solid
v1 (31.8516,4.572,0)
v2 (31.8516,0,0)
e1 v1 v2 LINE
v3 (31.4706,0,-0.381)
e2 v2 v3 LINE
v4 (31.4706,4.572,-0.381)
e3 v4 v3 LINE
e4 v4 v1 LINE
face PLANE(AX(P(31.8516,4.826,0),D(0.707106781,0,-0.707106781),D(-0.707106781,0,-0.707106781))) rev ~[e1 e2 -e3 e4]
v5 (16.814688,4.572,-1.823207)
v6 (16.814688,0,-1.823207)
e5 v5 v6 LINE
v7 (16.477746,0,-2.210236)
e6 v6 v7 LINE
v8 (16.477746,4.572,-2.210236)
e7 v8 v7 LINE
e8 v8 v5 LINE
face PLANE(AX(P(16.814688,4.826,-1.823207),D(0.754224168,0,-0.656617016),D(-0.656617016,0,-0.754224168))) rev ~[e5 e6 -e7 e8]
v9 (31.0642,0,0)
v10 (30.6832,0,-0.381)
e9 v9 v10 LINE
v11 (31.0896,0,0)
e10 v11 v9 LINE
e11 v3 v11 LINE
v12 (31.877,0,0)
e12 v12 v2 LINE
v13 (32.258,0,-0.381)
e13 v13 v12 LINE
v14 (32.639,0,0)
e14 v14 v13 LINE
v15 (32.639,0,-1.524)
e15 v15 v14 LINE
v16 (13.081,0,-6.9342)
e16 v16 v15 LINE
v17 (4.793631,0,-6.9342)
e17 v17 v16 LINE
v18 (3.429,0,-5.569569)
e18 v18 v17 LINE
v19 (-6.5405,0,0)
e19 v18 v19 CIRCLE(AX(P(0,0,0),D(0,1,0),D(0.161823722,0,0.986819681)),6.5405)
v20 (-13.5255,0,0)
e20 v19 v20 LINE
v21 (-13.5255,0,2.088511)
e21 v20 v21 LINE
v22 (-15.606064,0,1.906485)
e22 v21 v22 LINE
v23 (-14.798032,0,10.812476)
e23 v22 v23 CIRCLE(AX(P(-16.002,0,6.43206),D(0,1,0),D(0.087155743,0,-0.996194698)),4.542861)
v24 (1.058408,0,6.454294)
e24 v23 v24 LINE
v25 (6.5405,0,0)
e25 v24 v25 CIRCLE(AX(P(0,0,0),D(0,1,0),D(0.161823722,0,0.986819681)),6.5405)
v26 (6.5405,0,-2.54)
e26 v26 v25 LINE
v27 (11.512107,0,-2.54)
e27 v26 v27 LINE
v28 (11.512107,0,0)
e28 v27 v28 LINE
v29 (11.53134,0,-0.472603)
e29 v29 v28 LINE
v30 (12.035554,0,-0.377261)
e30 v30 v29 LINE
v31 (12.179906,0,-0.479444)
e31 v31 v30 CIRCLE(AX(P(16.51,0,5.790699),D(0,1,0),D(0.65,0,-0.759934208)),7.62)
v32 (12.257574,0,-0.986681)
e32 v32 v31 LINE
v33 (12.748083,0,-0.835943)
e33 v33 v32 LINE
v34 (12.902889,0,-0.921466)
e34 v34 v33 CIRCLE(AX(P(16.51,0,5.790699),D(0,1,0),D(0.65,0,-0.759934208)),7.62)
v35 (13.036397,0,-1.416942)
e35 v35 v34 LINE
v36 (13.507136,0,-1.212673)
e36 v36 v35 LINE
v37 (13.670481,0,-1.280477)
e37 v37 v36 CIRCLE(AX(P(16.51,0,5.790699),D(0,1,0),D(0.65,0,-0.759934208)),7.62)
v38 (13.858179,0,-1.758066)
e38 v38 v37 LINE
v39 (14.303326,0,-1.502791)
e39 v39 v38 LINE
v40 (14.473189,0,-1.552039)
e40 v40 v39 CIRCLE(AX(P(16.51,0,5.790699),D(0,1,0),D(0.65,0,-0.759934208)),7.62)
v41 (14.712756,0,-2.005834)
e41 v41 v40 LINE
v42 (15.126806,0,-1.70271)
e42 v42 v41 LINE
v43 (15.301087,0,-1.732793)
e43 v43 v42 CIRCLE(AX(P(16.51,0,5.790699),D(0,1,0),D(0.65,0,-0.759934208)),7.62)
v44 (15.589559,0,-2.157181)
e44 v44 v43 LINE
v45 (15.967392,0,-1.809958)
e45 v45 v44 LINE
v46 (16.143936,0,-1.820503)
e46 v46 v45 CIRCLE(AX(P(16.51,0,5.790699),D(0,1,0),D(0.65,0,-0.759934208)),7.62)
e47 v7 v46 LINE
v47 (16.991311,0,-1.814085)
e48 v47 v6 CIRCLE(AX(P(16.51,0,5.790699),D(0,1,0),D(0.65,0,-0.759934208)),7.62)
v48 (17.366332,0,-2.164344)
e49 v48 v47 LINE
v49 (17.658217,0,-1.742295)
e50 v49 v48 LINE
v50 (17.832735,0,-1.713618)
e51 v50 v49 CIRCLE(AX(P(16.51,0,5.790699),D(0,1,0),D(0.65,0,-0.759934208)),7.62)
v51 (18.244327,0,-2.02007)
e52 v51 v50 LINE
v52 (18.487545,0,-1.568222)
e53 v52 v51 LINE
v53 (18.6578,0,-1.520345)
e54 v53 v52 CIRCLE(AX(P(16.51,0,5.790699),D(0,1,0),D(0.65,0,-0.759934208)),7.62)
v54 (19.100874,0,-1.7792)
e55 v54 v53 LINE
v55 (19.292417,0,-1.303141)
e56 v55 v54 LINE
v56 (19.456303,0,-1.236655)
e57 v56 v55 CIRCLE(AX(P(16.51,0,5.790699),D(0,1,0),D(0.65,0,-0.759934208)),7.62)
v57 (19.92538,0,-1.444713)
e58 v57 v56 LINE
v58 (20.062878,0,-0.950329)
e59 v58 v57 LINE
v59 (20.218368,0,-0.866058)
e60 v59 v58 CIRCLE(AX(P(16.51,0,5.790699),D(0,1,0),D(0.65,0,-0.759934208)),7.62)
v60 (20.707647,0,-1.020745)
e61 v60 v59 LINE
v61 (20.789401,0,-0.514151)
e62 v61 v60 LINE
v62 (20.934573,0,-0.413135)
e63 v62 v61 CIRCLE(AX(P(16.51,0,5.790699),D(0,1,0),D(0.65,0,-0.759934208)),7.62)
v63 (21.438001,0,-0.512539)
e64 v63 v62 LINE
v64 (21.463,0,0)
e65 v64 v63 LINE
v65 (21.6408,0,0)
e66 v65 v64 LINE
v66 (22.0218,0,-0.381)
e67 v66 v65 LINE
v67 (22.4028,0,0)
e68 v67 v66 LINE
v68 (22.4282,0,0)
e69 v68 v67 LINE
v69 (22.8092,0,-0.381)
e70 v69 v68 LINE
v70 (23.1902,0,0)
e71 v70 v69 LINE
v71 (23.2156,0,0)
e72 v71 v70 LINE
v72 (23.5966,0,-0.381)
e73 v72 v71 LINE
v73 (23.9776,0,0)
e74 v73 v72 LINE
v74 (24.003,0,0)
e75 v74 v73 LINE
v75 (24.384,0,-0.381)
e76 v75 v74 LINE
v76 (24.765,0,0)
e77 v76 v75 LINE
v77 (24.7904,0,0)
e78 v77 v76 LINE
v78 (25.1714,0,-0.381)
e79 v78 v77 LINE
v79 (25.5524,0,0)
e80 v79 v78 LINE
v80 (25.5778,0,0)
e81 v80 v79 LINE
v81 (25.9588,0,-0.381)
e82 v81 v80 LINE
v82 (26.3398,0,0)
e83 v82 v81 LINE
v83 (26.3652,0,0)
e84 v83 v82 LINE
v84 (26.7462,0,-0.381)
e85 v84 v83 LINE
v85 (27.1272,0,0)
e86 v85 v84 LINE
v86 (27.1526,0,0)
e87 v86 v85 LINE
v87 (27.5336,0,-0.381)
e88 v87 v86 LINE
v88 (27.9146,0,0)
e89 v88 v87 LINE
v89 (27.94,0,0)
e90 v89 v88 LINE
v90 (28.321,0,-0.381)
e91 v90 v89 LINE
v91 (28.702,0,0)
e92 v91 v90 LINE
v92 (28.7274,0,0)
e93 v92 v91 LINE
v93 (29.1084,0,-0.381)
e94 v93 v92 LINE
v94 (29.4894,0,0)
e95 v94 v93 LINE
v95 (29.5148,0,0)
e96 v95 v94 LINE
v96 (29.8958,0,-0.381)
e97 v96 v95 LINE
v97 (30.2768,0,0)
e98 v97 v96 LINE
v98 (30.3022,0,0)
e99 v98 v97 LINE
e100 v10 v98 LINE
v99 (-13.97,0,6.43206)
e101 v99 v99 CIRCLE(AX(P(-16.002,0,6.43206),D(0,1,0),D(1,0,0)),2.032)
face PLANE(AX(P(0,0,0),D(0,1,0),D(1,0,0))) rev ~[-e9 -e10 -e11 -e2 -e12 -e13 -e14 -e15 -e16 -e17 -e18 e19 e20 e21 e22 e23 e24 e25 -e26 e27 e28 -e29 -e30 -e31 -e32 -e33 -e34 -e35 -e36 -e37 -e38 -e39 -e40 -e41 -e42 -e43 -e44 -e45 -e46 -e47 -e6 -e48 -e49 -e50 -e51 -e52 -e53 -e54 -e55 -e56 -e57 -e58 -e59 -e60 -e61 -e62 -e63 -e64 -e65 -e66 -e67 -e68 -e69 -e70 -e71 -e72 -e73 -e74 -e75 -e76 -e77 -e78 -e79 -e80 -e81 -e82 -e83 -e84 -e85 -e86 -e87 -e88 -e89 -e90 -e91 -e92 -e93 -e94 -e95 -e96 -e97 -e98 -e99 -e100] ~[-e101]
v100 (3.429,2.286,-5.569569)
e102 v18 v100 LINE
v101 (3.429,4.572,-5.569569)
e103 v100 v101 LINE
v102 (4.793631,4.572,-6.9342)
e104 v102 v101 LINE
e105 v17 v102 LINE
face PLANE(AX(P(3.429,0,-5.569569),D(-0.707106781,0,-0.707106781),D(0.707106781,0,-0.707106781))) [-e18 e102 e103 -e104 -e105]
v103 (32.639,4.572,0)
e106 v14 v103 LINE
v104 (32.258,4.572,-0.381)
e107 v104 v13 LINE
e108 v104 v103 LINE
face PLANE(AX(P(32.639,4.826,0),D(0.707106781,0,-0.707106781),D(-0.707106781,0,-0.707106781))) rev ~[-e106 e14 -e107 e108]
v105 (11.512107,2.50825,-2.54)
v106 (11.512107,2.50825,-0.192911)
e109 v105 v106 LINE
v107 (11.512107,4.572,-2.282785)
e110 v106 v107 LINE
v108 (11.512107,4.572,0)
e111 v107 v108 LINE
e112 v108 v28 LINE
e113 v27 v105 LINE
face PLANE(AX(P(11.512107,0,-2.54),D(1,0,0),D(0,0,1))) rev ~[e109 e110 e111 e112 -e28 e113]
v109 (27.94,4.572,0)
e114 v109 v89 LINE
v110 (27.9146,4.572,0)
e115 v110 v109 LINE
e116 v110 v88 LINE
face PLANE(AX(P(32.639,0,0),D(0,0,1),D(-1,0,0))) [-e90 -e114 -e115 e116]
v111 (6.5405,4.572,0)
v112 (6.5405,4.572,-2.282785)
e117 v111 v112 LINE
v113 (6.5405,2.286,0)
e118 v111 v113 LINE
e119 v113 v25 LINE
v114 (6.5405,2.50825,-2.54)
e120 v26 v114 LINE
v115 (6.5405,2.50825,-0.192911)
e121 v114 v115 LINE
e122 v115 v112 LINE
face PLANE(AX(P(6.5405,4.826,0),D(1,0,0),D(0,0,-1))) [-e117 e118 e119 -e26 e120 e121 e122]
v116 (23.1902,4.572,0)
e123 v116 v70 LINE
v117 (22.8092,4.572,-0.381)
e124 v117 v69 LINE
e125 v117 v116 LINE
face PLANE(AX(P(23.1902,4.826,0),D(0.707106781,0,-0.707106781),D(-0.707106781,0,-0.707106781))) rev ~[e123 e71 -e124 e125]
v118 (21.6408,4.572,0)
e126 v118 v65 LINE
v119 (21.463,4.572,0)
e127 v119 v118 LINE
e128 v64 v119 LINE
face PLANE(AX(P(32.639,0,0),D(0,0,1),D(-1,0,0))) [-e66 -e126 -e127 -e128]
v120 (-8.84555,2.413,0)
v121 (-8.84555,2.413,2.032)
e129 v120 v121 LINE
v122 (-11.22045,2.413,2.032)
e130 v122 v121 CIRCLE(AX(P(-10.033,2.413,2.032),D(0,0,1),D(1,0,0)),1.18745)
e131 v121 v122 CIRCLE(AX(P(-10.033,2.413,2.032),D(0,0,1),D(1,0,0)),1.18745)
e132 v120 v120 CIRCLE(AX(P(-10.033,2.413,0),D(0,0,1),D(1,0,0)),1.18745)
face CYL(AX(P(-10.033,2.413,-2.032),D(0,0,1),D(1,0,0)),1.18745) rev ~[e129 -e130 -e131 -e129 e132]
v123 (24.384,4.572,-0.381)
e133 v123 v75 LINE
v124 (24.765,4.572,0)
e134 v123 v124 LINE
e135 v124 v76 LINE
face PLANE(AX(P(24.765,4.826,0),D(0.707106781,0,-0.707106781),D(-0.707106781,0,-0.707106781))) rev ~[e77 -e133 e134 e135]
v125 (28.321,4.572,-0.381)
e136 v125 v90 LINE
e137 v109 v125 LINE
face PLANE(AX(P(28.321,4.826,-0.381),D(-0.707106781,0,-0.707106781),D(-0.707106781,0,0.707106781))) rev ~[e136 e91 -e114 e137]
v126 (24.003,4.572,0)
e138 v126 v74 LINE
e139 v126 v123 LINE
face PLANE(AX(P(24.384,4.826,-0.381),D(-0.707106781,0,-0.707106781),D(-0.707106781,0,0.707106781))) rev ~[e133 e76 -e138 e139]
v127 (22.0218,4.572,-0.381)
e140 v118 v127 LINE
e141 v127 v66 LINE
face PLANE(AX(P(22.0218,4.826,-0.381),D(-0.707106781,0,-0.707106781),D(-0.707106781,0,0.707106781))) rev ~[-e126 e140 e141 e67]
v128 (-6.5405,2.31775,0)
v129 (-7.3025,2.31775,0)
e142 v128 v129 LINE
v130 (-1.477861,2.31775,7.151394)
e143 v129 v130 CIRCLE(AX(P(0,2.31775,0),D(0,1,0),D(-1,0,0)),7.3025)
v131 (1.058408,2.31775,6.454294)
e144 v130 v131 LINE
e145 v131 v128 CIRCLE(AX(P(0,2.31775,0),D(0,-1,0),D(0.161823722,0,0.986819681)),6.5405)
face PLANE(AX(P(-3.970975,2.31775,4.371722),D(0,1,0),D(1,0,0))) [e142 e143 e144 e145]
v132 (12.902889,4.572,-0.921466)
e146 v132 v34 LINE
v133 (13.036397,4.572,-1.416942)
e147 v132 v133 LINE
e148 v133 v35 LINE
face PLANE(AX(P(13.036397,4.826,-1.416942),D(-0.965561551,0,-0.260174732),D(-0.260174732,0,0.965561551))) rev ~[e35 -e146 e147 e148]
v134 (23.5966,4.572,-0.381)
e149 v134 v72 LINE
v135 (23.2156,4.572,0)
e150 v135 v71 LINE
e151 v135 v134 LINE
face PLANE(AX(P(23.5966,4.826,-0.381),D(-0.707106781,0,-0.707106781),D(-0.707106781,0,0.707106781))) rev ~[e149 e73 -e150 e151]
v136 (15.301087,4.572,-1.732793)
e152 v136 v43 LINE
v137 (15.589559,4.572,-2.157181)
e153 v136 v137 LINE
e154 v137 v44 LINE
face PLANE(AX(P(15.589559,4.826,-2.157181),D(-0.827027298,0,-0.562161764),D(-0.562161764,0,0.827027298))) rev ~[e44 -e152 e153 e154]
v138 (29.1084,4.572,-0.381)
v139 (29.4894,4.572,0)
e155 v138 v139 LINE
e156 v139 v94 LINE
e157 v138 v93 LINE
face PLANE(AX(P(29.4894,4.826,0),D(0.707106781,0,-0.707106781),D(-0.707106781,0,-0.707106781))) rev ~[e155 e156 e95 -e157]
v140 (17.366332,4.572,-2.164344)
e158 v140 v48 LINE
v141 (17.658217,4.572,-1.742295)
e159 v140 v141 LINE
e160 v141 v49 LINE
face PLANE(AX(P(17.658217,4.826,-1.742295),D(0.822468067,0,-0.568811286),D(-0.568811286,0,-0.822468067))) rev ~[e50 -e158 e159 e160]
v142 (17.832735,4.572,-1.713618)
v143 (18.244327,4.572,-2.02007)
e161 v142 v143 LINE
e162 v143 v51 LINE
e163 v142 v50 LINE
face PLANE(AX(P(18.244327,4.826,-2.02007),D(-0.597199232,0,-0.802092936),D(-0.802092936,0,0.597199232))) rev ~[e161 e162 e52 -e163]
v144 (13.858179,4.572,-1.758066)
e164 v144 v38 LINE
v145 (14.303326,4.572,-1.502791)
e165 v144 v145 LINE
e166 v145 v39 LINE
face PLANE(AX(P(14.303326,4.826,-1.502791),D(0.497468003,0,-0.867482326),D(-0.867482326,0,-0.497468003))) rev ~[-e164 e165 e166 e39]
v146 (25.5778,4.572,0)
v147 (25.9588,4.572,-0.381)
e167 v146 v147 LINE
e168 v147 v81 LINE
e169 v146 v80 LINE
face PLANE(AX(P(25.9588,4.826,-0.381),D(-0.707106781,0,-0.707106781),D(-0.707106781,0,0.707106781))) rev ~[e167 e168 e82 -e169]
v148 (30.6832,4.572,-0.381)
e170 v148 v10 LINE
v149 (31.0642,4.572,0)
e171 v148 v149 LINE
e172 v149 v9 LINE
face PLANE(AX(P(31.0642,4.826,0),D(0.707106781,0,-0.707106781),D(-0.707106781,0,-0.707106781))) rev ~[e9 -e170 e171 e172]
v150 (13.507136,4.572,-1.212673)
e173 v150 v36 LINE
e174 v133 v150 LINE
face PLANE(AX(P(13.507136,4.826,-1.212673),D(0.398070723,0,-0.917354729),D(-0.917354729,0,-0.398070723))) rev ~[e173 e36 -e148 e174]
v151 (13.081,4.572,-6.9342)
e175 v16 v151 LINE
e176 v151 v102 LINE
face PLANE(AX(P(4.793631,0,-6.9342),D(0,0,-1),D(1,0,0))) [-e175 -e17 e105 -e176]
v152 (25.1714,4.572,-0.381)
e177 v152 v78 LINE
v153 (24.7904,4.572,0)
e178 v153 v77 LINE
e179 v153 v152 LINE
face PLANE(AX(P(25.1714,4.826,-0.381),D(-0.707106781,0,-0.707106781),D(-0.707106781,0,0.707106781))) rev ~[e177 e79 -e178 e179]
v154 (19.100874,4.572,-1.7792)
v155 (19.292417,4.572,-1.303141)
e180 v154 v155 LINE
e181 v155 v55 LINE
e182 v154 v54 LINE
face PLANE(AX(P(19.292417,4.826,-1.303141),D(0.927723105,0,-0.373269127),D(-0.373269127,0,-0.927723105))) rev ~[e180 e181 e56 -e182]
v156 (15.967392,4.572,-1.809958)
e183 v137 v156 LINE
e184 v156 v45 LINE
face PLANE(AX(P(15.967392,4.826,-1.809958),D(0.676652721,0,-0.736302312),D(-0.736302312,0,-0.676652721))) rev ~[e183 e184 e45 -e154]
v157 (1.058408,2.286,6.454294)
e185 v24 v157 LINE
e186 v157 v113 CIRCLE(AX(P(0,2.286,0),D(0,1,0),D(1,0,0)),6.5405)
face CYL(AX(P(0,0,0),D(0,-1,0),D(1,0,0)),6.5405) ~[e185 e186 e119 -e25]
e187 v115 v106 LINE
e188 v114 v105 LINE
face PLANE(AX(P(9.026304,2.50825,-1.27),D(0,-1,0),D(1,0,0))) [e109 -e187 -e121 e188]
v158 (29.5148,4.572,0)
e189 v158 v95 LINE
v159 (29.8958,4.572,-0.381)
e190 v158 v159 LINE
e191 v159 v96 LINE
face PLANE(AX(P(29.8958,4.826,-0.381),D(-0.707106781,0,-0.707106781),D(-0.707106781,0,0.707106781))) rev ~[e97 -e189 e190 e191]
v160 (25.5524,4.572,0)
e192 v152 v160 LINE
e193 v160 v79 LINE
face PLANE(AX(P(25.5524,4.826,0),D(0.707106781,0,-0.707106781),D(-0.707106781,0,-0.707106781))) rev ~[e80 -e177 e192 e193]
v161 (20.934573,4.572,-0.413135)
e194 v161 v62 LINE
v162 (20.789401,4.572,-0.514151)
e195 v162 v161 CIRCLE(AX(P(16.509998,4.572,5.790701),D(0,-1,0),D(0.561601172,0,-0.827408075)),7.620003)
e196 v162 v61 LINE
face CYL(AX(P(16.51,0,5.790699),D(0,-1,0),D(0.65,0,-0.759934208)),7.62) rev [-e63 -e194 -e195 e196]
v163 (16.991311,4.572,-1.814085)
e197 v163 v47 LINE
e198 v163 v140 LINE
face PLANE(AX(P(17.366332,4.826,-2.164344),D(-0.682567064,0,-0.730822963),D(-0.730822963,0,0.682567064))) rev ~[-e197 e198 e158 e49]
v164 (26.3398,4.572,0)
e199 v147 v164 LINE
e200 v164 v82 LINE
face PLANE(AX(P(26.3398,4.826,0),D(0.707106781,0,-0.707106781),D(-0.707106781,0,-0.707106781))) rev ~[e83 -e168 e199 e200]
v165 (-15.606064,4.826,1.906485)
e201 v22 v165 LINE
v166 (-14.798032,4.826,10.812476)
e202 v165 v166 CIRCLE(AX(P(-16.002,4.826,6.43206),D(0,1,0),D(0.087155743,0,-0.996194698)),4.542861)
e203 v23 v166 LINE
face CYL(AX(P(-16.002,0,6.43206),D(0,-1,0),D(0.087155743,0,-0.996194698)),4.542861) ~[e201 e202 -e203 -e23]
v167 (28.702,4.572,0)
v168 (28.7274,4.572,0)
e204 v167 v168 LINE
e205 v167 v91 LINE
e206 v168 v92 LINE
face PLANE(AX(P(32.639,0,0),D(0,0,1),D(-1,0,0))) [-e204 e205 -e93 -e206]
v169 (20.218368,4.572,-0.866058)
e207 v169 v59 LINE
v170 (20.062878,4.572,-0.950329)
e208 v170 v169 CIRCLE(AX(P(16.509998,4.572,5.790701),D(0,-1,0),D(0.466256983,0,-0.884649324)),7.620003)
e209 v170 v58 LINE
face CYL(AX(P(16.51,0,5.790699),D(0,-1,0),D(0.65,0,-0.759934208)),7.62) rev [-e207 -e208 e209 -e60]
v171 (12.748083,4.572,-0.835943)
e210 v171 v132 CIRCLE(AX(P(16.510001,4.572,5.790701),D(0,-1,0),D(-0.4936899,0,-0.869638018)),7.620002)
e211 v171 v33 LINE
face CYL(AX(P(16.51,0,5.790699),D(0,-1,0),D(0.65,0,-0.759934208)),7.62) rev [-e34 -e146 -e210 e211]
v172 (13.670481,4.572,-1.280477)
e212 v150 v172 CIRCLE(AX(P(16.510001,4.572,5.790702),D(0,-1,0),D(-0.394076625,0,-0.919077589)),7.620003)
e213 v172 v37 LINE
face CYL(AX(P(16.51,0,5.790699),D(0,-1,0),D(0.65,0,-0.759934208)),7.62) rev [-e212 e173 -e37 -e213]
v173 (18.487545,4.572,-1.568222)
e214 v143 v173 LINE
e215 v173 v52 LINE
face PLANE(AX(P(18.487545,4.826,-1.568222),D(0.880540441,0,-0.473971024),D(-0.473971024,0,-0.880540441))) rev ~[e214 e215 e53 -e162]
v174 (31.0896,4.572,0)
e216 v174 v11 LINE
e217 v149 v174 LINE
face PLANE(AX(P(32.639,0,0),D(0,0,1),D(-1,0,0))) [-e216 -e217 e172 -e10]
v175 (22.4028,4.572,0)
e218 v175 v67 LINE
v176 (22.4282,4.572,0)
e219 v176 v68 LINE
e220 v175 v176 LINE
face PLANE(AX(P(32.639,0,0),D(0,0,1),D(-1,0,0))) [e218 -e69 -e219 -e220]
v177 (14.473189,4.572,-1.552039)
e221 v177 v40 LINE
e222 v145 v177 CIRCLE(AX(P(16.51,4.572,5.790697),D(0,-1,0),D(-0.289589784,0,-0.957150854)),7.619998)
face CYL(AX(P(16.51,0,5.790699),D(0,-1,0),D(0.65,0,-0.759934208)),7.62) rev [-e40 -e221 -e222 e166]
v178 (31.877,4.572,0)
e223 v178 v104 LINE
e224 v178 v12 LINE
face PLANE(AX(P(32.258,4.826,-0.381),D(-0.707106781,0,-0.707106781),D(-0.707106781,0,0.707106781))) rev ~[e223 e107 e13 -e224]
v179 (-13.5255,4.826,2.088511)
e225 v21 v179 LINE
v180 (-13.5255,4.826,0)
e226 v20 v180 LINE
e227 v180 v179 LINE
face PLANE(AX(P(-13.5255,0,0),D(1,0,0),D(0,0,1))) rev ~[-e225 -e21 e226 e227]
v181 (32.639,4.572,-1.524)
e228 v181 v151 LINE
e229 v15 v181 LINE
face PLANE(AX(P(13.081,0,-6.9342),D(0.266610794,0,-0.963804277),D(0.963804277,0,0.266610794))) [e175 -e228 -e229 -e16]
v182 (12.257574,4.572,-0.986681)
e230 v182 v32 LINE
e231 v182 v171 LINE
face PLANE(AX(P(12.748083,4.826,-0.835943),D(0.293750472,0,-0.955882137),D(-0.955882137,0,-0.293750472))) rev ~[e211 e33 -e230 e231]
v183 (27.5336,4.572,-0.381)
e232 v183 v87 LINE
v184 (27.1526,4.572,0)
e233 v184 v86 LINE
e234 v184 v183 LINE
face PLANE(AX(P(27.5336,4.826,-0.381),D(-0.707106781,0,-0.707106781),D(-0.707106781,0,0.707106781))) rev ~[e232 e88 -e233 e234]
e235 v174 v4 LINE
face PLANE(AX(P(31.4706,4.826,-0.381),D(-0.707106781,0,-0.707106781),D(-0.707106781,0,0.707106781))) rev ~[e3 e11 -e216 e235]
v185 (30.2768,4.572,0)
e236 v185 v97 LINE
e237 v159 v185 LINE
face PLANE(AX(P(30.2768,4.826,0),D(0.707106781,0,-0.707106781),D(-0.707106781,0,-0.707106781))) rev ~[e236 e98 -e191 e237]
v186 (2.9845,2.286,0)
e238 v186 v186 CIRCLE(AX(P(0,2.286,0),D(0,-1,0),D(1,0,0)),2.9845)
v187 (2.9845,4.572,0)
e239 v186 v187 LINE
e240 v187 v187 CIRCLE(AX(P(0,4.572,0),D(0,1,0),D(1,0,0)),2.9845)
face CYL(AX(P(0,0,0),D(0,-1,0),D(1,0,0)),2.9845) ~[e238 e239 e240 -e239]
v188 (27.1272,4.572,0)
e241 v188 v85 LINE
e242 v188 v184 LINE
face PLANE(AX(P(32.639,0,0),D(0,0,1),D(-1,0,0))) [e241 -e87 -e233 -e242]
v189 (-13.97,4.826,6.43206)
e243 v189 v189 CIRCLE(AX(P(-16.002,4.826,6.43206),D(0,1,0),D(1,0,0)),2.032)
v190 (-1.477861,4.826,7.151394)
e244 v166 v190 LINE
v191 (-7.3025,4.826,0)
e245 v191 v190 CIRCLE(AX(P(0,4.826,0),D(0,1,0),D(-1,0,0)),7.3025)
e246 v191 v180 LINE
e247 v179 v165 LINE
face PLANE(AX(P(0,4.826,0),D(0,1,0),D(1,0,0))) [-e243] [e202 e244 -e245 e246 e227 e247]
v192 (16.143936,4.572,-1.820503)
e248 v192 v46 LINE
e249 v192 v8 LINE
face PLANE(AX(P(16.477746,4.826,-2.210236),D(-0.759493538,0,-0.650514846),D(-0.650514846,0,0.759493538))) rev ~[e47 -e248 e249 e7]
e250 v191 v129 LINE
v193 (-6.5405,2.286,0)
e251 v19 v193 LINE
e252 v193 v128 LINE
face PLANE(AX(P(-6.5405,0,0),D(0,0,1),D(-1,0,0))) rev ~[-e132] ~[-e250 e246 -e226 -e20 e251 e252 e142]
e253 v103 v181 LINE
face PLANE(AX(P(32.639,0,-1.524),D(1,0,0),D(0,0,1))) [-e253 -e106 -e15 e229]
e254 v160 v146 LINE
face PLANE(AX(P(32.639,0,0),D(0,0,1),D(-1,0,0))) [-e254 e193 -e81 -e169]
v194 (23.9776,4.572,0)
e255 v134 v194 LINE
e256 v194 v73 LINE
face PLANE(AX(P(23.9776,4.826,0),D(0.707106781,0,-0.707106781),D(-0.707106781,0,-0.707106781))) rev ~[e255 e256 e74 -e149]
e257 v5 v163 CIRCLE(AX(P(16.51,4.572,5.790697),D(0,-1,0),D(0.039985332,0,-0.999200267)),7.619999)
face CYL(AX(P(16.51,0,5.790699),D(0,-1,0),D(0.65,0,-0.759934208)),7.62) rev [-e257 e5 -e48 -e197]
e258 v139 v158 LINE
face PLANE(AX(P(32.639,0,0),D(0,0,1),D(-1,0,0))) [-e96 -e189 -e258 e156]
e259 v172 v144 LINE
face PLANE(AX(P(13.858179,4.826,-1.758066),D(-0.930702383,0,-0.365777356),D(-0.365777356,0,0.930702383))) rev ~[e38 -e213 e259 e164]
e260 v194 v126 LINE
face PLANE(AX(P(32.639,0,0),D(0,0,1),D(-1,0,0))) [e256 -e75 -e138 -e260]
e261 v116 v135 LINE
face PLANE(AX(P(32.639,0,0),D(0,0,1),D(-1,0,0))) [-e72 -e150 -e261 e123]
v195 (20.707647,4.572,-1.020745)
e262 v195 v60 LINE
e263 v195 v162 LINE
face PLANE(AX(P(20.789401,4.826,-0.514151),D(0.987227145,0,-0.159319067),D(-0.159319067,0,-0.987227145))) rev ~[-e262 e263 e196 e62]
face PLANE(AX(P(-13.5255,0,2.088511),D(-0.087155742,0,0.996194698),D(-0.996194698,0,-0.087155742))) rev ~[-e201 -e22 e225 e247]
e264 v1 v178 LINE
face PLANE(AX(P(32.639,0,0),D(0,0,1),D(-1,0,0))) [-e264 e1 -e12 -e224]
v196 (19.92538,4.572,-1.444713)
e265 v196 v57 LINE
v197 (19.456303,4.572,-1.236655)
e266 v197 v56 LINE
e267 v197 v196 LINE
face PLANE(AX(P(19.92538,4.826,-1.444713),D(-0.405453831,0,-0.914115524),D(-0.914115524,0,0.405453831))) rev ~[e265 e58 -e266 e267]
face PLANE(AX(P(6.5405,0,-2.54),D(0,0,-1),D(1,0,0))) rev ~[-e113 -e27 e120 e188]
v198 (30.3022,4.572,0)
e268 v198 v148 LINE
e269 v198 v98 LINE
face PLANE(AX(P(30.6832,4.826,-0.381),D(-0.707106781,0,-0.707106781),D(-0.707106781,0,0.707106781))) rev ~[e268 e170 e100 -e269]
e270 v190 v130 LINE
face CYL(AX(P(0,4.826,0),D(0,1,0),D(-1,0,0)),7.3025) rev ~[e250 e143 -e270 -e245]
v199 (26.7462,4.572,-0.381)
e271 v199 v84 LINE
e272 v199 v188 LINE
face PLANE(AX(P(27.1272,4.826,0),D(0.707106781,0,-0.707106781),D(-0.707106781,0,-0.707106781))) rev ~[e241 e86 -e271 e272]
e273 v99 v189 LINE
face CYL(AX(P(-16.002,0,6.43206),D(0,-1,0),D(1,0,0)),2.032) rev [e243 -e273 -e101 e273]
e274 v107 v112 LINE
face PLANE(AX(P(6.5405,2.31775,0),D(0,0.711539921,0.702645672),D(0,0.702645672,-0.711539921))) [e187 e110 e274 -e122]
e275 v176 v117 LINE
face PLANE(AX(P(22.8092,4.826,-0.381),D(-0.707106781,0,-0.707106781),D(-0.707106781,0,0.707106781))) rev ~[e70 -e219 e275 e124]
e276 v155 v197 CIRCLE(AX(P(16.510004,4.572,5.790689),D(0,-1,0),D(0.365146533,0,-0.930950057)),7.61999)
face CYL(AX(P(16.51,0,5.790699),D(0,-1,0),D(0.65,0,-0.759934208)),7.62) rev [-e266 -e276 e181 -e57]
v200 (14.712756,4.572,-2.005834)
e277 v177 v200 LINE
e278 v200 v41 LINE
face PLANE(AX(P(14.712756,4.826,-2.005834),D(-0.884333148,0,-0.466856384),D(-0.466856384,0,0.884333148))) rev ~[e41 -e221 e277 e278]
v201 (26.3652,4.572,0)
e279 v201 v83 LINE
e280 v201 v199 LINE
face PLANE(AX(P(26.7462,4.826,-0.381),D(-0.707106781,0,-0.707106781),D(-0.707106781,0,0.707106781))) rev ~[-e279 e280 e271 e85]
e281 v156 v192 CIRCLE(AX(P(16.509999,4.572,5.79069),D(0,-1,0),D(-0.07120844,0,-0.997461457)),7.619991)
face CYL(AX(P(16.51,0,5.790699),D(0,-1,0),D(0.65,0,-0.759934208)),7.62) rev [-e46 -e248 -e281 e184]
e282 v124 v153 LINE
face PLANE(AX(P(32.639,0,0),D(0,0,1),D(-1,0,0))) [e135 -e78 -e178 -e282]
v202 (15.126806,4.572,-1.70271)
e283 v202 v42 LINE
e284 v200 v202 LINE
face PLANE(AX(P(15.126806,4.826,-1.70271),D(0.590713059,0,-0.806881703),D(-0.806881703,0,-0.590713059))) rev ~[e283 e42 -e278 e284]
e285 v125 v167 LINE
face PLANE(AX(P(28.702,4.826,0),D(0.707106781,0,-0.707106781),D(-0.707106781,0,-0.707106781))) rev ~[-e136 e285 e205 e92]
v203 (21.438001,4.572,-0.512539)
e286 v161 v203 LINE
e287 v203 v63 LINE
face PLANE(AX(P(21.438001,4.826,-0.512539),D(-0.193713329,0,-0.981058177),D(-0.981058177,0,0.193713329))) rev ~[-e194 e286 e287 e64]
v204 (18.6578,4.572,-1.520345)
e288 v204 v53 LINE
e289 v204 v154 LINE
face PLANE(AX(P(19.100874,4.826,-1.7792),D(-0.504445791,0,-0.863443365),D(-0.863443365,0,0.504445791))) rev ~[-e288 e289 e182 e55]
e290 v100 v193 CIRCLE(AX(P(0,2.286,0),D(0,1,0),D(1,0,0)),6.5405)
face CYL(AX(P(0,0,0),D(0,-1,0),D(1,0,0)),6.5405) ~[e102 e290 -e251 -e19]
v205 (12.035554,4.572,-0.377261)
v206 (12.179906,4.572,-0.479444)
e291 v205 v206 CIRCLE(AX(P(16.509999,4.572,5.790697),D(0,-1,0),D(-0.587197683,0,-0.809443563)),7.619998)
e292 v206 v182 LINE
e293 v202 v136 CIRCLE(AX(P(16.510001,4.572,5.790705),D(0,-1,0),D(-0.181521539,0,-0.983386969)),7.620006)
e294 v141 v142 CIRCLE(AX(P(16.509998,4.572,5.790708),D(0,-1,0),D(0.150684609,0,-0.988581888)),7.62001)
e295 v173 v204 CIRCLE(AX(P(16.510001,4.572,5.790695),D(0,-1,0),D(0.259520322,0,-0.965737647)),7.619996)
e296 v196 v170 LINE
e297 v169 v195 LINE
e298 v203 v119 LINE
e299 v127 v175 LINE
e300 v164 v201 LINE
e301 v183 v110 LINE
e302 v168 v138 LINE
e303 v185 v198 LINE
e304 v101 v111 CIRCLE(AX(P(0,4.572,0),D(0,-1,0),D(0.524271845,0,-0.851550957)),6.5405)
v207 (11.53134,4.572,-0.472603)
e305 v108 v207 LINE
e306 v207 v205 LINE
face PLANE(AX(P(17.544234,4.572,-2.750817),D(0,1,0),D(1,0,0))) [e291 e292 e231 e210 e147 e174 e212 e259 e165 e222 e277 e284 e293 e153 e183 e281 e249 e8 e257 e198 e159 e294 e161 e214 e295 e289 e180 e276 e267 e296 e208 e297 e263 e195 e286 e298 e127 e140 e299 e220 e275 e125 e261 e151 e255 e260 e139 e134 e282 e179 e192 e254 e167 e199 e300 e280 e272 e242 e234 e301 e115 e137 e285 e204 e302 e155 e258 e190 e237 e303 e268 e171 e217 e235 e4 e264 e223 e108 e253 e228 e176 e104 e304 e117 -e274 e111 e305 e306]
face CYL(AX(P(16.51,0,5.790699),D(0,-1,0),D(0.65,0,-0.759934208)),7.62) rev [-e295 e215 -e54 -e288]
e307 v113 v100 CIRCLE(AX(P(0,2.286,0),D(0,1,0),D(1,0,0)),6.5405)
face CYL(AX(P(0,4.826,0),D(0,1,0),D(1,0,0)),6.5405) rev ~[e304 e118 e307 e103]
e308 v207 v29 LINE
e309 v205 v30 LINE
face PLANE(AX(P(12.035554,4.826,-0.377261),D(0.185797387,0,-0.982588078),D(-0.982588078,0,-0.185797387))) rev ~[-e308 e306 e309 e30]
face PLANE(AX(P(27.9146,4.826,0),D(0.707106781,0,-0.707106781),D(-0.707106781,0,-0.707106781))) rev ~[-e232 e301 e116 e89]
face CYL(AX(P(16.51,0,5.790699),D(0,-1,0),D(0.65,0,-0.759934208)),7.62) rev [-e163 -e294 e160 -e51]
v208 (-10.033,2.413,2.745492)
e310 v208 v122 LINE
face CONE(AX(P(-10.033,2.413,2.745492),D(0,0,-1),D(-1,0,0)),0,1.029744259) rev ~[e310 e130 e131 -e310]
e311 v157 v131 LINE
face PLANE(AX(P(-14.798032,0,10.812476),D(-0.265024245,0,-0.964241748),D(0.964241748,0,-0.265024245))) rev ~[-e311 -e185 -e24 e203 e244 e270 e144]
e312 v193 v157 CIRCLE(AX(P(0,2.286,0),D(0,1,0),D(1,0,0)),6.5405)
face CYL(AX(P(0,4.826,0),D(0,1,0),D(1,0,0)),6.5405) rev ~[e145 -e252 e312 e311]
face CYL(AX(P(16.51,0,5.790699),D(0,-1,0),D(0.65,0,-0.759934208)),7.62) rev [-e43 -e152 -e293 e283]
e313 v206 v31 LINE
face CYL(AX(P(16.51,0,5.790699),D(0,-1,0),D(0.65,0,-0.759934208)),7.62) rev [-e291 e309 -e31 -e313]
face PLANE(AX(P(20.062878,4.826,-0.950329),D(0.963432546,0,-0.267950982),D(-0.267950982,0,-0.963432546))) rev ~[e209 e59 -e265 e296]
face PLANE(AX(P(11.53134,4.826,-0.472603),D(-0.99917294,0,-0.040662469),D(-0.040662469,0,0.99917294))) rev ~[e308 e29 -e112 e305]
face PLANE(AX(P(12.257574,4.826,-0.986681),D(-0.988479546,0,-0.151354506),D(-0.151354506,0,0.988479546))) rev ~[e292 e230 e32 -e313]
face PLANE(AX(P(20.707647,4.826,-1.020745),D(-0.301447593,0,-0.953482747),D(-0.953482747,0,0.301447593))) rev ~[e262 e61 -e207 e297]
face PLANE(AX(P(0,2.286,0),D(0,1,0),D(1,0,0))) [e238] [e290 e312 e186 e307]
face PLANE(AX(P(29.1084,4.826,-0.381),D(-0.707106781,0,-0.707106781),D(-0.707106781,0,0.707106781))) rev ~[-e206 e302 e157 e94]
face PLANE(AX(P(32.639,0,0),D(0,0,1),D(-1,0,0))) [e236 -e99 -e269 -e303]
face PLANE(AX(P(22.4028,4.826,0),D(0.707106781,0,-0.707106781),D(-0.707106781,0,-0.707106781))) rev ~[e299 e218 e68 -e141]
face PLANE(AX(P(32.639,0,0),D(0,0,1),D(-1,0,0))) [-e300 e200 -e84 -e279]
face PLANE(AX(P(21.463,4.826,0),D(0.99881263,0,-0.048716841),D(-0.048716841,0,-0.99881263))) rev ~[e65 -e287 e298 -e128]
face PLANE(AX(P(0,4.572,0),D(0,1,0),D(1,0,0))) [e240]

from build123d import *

# Parameters (mm, degrees)
SKETCH1_R                        = 6.5405
SKETCH1_R_2                      = 2.9845
BOSS_EXTRUDE1_DEPTH              = 4.826
SKETCH2_R                        = 2.032
BOSS_EXTRUDE2_DEPTH              = 4.826
F_42_0_0935_DIAMETER_HOLE1_D     = 2.3749
F_42_0_0935_DIAMETER_HOLE1_DEPTH = 2.032
F_42_0_0935_DIAMETER_HOLE1_TIP   = 0.713491942
BOSS_EXTRUDE3_DEPTH              = 4.826
CUT_EXTRUDE1_DEPTH               = 2.50825
CUT_EXTRUDE2_DEPTH               = 5.826
LPATTERN1_COUNT                  = 14
LPATTERN1_PITCH                  = 0.7874
CUT_EXTRUDE3_DEPTH               = 5.826
CIRPATTERN1_COUNT                = 13
CIRPATTERN1_ANGLE                = 76.5
SKETCH13_W                       = 4.971607039
SKETCH13_H                       = 2.54
CUT_EXTRUDE5_DEPTH               = 2.50825
BOSS_EXTRUDE4_REACH              = 28.099
SKETCH15_W                       = 4.971607039
SKETCH15_H                       = 2.54
CUT_EXTRUDE6_DEPTH               = 2.50825
SKETCH16_R                       = 6.5405
CUT_EXTRUDE7_DEPTH               = 2.54
SKETCH18_R                       = 2.9845
BOSS_EXTRUDE5_DEPTH              = 4.572
CUT_EXTRUDE8_DEPTH               = 0.254
CUT_EXTRUDE9_REACH               = 34.057


with BuildPart() as part:
    # Sketch1 → Boss-Extrude1 (new body)
    with BuildSketch(Plane(origin=(0, 0, 0), x_dir=(1, 0, 0), z_dir=(0, 1, 0))):
        Circle(SKETCH1_R)
        Circle(SKETCH1_R_2, mode=Mode.SUBTRACT)
    extrude(amount=BOSS_EXTRUDE1_DEPTH)

    # Sketch2 → Boss-Extrude2 (add)
    with BuildSketch(Plane(origin=(0, 0, 0), x_dir=(1, 0, 0), z_dir=(0, 1, 0))):
        with BuildLine():
            Line((-6.5405, 0), (-13.5255, 0))
            Line((-13.5255, 0), (-13.5255, -2.088510966))
            Line((-13.5255, -2.088510966), (-15.606063552, -1.906485242))
            ThreePointArc((-15.606063552, -1.906485242), (-20.526278057, -6.842542927), (-14.798031619, -10.81247605))
            Line((-14.798031619, -10.81247605), (1.058408056, -6.454294124))
            ThreePointArc((1.058408056, -6.454294124), (-4.234124606, -4.985010438), (-6.5405, 0))
        make_face()
        with Locations((-16.002, -6.432059555)):
            Circle(SKETCH2_R, mode=Mode.SUBTRACT)
    extrude(amount=BOSS_EXTRUDE2_DEPTH)

    # #42 (0.0935) Diameter Hole1
    with Locations(Plane(origin=(0, 0, 0), x_dir=(-1, 0, 0), z_dir=(0, 0, -1))):
        with Locations((10.033, 2.413)):
            Hole(F_42_0_0935_DIAMETER_HOLE1_D / 2, depth=F_42_0_0935_DIAMETER_HOLE1_DEPTH)
            with Locations((0, 0, -(F_42_0_0935_DIAMETER_HOLE1_DEPTH + F_42_0_0935_DIAMETER_HOLE1_TIP / 2))):  # 118° drill point
                Cone(0, F_42_0_0935_DIAMETER_HOLE1_D / 2, F_42_0_0935_DIAMETER_HOLE1_TIP, mode=Mode.SUBTRACT)

    # Sketch8 → Boss-Extrude3 (add)
    with BuildSketch(Plane(origin=(0, 0, 0), x_dir=(1, 0, 0), z_dir=(0, 1, 0))):
        with BuildLine():
            Line((13.081, 6.9342), (32.639, 1.524))
            Line((32.639, 1.524), (32.639, 0))
            Line((32.639, 0), (21.463, 0))
            ThreePointArc((21.463, 0), (16.51, 1.829301337), (11.557, 0))
            Line((11.557, 0), (6.5405, 0))
            ThreePointArc((6.5405, 0), (5.709882431, 3.189887596), (3.429, 5.569569036))
            Line((3.429, 5.569569036), (4.793630964, 6.9342))
            Line((4.793630964, 6.9342), (13.081, 6.9342))
        make_face()
    extrude(amount=BOSS_EXTRUDE3_DEPTH)

    # Sketch9 → Cut-Extrude1 (cut)
    with BuildSketch(Plane(origin=(0, 4.826, 0), x_dir=(1, 0, 0), z_dir=(0, 1, 0))):
        with BuildLine():
            Line((-6.5405, 0), (-7.3025, 0))
            ThreePointArc((-7.3025, 0), (-5.662092509, -4.611639044), (-1.477860583, -7.151393874))
            Line((-1.477860583, -7.151393874), (1.058408056, -6.454294124))
            ThreePointArc((1.058408056, -6.454294124), (-4.234124606, -4.985010438), (-6.5405, 0))
        make_face()
    extrude(amount=-CUT_EXTRUDE1_DEPTH, mode=Mode.SUBTRACT)

    # Sketch10 → Cut-Extrude2 (cut, through all)
    with BuildSketch(Plane(origin=(0, 4.826, 0), x_dir=(1, 0, 0), z_dir=(0, 1, 0))):
        Polygon((32.639, 0), (32.258, 0.381), (31.877, 0), align=None)
    cut_extrude2 = extrude(amount=-CUT_EXTRUDE2_DEPTH, mode=Mode.SUBTRACT)

    # LPattern1: Cut-Extrude2 ×14
    with Locations(*[(-i * LPATTERN1_PITCH, 0, 0) for i in range(1, LPATTERN1_COUNT)]):
        add(cut_extrude2, mode=Mode.SUBTRACT)

    # Sketch11 → Cut-Extrude3 (cut, through all)
    with BuildSketch(Plane(origin=(0, 4.826, 0), x_dir=(1, 0, 0), z_dir=(0, 1, 0))):
        with BuildLine():
            Line((21.463, 0), (21.438001029, 0.512539145))
            Line((21.438001029, 0.512539145), (20.934572554, 0.413135452))
            ThreePointArc((20.934572554, 0.413135452), (21.203334313, 0.212384964), (21.463, 0))
        make_face()
    cut_extrude3 = extrude(amount=-CUT_EXTRUDE3_DEPTH, mode=Mode.SUBTRACT)

    # CirPattern1: Cut-Extrude3 ×13 about axis
    cirpattern1_axis = Axis((16.51, 0, 5.790698663), (0, 1, 0))
    for i in range(1, CIRPATTERN1_COUNT):
        add(cut_extrude3.rotate(cirpattern1_axis, i * CIRPATTERN1_ANGLE / (CIRPATTERN1_COUNT - 1)), mode=Mode.SUBTRACT)

    # Sketch13 → Cut-Extrude5 (cut)
    with BuildSketch(Plane(origin=(0, 4.826, 0), x_dir=(1, 0, 0), z_dir=(0, 1, 0))):
        with Locations((9.02630352, 1.27)):
            Rectangle(SKETCH13_W, SKETCH13_H)
    extrude(amount=-CUT_EXTRUDE5_DEPTH, mode=Mode.SUBTRACT)

    # Sketch14 → Boss-Extrude4 (add, up to next)
    with BuildSketch(Plane(origin=(6.5405, 0, 0), x_dir=(0, 0, -1), z_dir=(1, 0, 0)), mode=Mode.PRIVATE) as boss_extrude4_sk1:
        Polygon((0, 2.31775), (2.54, 4.826), (2.54, 2.31775), align=None)
    boss_extrude4_tool1 = extrude(boss_extrude4_sk1.sketch, amount=BOSS_EXTRUDE4_REACH, mode=Mode.PRIVATE) - part.part
    add(boss_extrude4_tool1.solids().sort_by_distance((6.5405, 3.153833, -1.693333))[0])

    # Sketch15 → Cut-Extrude6 (cut)
    with BuildSketch(Plane.XZ):
        with Locations((9.02630352, -1.27)):
            Rectangle(SKETCH15_W, SKETCH15_H)
    extrude(amount=-CUT_EXTRUDE6_DEPTH, mode=Mode.SUBTRACT)

    # Sketch16 → Cut-Extrude7 (cut)
    with BuildSketch(Plane(origin=(0, 4.826, 0), x_dir=(1, 0, 0), z_dir=(0, 1, 0))):
        Circle(SKETCH16_R)
    extrude(amount=-CUT_EXTRUDE7_DEPTH, mode=Mode.SUBTRACT)

    # Sketch18 → Boss-Extrude5 (add)
    with BuildSketch(Plane(origin=(0, 0, 0), x_dir=(1, 0, 0), z_dir=(0, 1, 0))):
        Circle(SKETCH18_R)
    extrude(amount=BOSS_EXTRUDE5_DEPTH)

    # Sketch19 → Cut-Extrude8 (cut)
    with BuildSketch(Plane(origin=(0, 4.826, 0), x_dir=(1, 0, 0), z_dir=(0, 1, 0))):
        with BuildLine():
            Line((6.5405, 0), (6.5405, 2.54))
            Line((6.5405, 2.54), (11.512107039, 2.54))
            Line((11.512107039, 2.54), (11.512107039, 0))
            Line((11.512107039, 0), (11.531340148, 0.472602949))
            Line((11.531340148, 0.472602949), (12.03555369, 0.377261309))
            ThreePointArc((12.03555369, 0.377261309), (12.10743347, 0.428771407), (12.179906178, 0.479443879))
            Line((12.179906178, 0.479443879), (12.257573507, 0.986680619))
            Line((12.257573507, 0.986680619), (12.748082937, 0.835943022))
            ThreePointArc((12.748082937, 0.835943022), (12.825237685, 0.879153411), (12.90288869, 0.921465519))
            Line((12.90288869, 0.921465519), (13.036396947, 1.416941925))
            Line((13.036396947, 1.416941925), (13.507136098, 1.212672553))
            ThreePointArc((13.507136098, 1.212672553), (13.588611636, 1.247048848), (13.67048062, 1.280477314))
            Line((13.67048062, 1.280477314), (13.8581787, 1.758065792))
            Line((13.8581787, 1.758065792), (14.303325905, 1.502790861))
            ThreePointArc((14.303325905, 1.502790861), (14.388114618, 1.527907928), (14.473189102, 1.55203934))
            Line((14.473189102, 1.55203934), (14.712755728, 2.005833517))
            Line((14.712755728, 2.005833517), (15.126805817, 1.702710031))
            ThreePointArc((15.126805817, 1.702710031), (15.213859118, 1.718257244), (15.301086979, 1.732793167))
            Line((15.301086979, 1.732793167), (15.589559413, 2.157180937))
            Line((15.589559413, 2.157180937), (15.967391797, 1.809957647))
            ThreePointArc((15.967391797, 1.809957647), (16.05563309, 1.815742734), (16.143935576, 1.8205034))
            Line((16.143935576, 1.8205034), (16.477746256, 2.210236326))
            Line((16.477746256, 2.210236326), (16.814688254, 1.82320737))
            ThreePointArc((16.814688254, 1.82320737), (16.903026252, 1.819158785), (16.991311318, 1.81408532))
            Line((16.991311318, 1.81408532), (17.366331983, 2.164343546))
            Line((17.366331983, 2.164343546), (17.658216609, 1.742295339))
            ThreePointArc((17.658216609, 1.742295339), (17.745558829, 1.728463151), (17.832734648, 1.713618299))
            Line((17.832734648, 1.713618299), (18.244327388, 2.020070154))
            Line((18.244327388, 2.020070154), (18.487544881, 1.568222199))
            ThreePointArc((18.487544881, 1.568222199), (18.572811157, 1.544777473), (18.657799617, 1.52034482))
            Line((18.657799617, 1.52034482), (19.100874234, 1.779200392))
            Line((19.100874234, 1.779200392), (19.292416706, 1.303140726))
            ThreePointArc((19.292416706, 1.303140726), (19.374552542, 1.270373405), (19.456302586, 1.236655112))
            Line((19.456302586, 1.236655112), (19.925379542, 1.444713114))
            Line((19.925379542, 1.444713114), (20.062878172, 0.950329204))
            ThreePointArc((20.062878172, 0.950329204), (20.140867788, 0.908644522), (20.218368406, 0.866057587))
            Line((20.218368406, 0.866057587), (20.707646593, 1.02074495))
            Line((20.707646593, 1.02074495), (20.789400924, 0.514150878))
            ThreePointArc((20.789400924, 0.514150878), (20.862279817, 0.464064354), (20.934572554, 0.413135452))
            Line((20.934572554, 0.413135452), (21.438001029, 0.512539145))
            Line((21.438001029, 0.512539145), (21.463, 0))
            Line((21.463, 0), (21.6408, 0))
            Line((21.6408, 0), (22.0218, 0.381))
            Line((22.0218, 0.381), (22.4028, 0))
            Line((22.4028, 0), (22.4282, 0))
            Line((22.4282, 0), (22.8092, 0.381))
            Line((22.8092, 0.381), (23.1902, 0))
            Line((23.1902, 0), (23.2156, 0))
            Line((23.2156, 0), (23.5966, 0.381))
            Line((23.5966, 0.381), (23.9776, 0))
            Line((23.9776, 0), (24.003, 0))
            Line((24.003, 0), (24.384, 0.381))
            Line((24.384, 0.381), (24.765, 0))
            Line((24.765, 0), (24.7904, 0))
            Line((24.7904, 0), (25.1714, 0.381))
            Line((25.1714, 0.381), (25.5524, 0))
            Line((25.5524, 0), (25.5778, 0))
            Line((25.5778, 0), (25.9588, 0.381))
            Line((25.9588, 0.381), (26.3398, 0))
            Line((26.3398, 0), (26.3652, 0))
            Line((26.3652, 0), (26.7462, 0.381))
            Line((26.7462, 0.381), (27.1272, 0))
            Line((27.1272, 0), (27.1526, 0))
            Line((27.1526, 0), (27.5336, 0.381))
            Line((27.5336, 0.381), (27.9146, 0))
            Line((27.9146, 0), (27.94, 0))
            Line((27.94, 0), (28.321, 0.381))
            Line((28.321, 0.381), (28.702, 0))
            Line((28.702, 0), (28.7274, 0))
            Line((28.7274, 0), (29.1084, 0.381))
            Line((29.1084, 0.381), (29.4894, 0))
            Line((29.4894, 0), (29.5148, 0))
            Line((29.5148, 0), (29.8958, 0.381))
            Line((29.8958, 0.381), (30.2768, 0))
            Line((30.2768, 0), (30.3022, 0))
            Line((30.3022, 0), (30.6832, 0.381))
            Line((30.6832, 0.381), (31.0642, 0))
            Line((31.0642, 0), (31.0896, 0))
            Line((31.0896, 0), (31.4706, 0.381))
            Line((31.4706, 0.381), (31.8516, 0))
            Line((31.8516, 0), (31.877, 0))
            Line((31.877, 0), (32.258, 0.381))
            Line((32.258, 0.381), (32.639, 0))
            Line((32.639, 0), (32.639, 1.524))
            Line((32.639, 1.524), (13.081, 6.9342))
            Line((13.081, 6.9342), (4.793630964, 6.9342))
            Line((4.793630964, 6.9342), (3.429, 5.569569036))
            ThreePointArc((3.429, 5.569569036), (5.709882431, 3.189887596), (6.5405, 0))
        make_face()
    extrude(amount=-CUT_EXTRUDE8_DEPTH, mode=Mode.SUBTRACT)

    # Sketch20 → Cut-Extrude9 (cut, up to next)
    with BuildSketch(Plane(origin=(11.512107039, 0, 0), x_dir=(0, 0, -1), z_dir=(1, 0, 0)), mode=Mode.PRIVATE) as cut_extrude9_sk1:
        Polygon((2.54, 4.826), (2.28278481, 4.572), (2.54, 4.572), align=None)
    cut_extrude9_tool1 = extrude(cut_extrude9_sk1.sketch, amount=-CUT_EXTRUDE9_REACH, mode=Mode.PRIVATE) & part.part
    add(cut_extrude9_tool1.solids().sort_by_distance((11.512107, 4.656667, -2.454262))[0], mode=Mode.SUBTRACT)


solid = part.part
